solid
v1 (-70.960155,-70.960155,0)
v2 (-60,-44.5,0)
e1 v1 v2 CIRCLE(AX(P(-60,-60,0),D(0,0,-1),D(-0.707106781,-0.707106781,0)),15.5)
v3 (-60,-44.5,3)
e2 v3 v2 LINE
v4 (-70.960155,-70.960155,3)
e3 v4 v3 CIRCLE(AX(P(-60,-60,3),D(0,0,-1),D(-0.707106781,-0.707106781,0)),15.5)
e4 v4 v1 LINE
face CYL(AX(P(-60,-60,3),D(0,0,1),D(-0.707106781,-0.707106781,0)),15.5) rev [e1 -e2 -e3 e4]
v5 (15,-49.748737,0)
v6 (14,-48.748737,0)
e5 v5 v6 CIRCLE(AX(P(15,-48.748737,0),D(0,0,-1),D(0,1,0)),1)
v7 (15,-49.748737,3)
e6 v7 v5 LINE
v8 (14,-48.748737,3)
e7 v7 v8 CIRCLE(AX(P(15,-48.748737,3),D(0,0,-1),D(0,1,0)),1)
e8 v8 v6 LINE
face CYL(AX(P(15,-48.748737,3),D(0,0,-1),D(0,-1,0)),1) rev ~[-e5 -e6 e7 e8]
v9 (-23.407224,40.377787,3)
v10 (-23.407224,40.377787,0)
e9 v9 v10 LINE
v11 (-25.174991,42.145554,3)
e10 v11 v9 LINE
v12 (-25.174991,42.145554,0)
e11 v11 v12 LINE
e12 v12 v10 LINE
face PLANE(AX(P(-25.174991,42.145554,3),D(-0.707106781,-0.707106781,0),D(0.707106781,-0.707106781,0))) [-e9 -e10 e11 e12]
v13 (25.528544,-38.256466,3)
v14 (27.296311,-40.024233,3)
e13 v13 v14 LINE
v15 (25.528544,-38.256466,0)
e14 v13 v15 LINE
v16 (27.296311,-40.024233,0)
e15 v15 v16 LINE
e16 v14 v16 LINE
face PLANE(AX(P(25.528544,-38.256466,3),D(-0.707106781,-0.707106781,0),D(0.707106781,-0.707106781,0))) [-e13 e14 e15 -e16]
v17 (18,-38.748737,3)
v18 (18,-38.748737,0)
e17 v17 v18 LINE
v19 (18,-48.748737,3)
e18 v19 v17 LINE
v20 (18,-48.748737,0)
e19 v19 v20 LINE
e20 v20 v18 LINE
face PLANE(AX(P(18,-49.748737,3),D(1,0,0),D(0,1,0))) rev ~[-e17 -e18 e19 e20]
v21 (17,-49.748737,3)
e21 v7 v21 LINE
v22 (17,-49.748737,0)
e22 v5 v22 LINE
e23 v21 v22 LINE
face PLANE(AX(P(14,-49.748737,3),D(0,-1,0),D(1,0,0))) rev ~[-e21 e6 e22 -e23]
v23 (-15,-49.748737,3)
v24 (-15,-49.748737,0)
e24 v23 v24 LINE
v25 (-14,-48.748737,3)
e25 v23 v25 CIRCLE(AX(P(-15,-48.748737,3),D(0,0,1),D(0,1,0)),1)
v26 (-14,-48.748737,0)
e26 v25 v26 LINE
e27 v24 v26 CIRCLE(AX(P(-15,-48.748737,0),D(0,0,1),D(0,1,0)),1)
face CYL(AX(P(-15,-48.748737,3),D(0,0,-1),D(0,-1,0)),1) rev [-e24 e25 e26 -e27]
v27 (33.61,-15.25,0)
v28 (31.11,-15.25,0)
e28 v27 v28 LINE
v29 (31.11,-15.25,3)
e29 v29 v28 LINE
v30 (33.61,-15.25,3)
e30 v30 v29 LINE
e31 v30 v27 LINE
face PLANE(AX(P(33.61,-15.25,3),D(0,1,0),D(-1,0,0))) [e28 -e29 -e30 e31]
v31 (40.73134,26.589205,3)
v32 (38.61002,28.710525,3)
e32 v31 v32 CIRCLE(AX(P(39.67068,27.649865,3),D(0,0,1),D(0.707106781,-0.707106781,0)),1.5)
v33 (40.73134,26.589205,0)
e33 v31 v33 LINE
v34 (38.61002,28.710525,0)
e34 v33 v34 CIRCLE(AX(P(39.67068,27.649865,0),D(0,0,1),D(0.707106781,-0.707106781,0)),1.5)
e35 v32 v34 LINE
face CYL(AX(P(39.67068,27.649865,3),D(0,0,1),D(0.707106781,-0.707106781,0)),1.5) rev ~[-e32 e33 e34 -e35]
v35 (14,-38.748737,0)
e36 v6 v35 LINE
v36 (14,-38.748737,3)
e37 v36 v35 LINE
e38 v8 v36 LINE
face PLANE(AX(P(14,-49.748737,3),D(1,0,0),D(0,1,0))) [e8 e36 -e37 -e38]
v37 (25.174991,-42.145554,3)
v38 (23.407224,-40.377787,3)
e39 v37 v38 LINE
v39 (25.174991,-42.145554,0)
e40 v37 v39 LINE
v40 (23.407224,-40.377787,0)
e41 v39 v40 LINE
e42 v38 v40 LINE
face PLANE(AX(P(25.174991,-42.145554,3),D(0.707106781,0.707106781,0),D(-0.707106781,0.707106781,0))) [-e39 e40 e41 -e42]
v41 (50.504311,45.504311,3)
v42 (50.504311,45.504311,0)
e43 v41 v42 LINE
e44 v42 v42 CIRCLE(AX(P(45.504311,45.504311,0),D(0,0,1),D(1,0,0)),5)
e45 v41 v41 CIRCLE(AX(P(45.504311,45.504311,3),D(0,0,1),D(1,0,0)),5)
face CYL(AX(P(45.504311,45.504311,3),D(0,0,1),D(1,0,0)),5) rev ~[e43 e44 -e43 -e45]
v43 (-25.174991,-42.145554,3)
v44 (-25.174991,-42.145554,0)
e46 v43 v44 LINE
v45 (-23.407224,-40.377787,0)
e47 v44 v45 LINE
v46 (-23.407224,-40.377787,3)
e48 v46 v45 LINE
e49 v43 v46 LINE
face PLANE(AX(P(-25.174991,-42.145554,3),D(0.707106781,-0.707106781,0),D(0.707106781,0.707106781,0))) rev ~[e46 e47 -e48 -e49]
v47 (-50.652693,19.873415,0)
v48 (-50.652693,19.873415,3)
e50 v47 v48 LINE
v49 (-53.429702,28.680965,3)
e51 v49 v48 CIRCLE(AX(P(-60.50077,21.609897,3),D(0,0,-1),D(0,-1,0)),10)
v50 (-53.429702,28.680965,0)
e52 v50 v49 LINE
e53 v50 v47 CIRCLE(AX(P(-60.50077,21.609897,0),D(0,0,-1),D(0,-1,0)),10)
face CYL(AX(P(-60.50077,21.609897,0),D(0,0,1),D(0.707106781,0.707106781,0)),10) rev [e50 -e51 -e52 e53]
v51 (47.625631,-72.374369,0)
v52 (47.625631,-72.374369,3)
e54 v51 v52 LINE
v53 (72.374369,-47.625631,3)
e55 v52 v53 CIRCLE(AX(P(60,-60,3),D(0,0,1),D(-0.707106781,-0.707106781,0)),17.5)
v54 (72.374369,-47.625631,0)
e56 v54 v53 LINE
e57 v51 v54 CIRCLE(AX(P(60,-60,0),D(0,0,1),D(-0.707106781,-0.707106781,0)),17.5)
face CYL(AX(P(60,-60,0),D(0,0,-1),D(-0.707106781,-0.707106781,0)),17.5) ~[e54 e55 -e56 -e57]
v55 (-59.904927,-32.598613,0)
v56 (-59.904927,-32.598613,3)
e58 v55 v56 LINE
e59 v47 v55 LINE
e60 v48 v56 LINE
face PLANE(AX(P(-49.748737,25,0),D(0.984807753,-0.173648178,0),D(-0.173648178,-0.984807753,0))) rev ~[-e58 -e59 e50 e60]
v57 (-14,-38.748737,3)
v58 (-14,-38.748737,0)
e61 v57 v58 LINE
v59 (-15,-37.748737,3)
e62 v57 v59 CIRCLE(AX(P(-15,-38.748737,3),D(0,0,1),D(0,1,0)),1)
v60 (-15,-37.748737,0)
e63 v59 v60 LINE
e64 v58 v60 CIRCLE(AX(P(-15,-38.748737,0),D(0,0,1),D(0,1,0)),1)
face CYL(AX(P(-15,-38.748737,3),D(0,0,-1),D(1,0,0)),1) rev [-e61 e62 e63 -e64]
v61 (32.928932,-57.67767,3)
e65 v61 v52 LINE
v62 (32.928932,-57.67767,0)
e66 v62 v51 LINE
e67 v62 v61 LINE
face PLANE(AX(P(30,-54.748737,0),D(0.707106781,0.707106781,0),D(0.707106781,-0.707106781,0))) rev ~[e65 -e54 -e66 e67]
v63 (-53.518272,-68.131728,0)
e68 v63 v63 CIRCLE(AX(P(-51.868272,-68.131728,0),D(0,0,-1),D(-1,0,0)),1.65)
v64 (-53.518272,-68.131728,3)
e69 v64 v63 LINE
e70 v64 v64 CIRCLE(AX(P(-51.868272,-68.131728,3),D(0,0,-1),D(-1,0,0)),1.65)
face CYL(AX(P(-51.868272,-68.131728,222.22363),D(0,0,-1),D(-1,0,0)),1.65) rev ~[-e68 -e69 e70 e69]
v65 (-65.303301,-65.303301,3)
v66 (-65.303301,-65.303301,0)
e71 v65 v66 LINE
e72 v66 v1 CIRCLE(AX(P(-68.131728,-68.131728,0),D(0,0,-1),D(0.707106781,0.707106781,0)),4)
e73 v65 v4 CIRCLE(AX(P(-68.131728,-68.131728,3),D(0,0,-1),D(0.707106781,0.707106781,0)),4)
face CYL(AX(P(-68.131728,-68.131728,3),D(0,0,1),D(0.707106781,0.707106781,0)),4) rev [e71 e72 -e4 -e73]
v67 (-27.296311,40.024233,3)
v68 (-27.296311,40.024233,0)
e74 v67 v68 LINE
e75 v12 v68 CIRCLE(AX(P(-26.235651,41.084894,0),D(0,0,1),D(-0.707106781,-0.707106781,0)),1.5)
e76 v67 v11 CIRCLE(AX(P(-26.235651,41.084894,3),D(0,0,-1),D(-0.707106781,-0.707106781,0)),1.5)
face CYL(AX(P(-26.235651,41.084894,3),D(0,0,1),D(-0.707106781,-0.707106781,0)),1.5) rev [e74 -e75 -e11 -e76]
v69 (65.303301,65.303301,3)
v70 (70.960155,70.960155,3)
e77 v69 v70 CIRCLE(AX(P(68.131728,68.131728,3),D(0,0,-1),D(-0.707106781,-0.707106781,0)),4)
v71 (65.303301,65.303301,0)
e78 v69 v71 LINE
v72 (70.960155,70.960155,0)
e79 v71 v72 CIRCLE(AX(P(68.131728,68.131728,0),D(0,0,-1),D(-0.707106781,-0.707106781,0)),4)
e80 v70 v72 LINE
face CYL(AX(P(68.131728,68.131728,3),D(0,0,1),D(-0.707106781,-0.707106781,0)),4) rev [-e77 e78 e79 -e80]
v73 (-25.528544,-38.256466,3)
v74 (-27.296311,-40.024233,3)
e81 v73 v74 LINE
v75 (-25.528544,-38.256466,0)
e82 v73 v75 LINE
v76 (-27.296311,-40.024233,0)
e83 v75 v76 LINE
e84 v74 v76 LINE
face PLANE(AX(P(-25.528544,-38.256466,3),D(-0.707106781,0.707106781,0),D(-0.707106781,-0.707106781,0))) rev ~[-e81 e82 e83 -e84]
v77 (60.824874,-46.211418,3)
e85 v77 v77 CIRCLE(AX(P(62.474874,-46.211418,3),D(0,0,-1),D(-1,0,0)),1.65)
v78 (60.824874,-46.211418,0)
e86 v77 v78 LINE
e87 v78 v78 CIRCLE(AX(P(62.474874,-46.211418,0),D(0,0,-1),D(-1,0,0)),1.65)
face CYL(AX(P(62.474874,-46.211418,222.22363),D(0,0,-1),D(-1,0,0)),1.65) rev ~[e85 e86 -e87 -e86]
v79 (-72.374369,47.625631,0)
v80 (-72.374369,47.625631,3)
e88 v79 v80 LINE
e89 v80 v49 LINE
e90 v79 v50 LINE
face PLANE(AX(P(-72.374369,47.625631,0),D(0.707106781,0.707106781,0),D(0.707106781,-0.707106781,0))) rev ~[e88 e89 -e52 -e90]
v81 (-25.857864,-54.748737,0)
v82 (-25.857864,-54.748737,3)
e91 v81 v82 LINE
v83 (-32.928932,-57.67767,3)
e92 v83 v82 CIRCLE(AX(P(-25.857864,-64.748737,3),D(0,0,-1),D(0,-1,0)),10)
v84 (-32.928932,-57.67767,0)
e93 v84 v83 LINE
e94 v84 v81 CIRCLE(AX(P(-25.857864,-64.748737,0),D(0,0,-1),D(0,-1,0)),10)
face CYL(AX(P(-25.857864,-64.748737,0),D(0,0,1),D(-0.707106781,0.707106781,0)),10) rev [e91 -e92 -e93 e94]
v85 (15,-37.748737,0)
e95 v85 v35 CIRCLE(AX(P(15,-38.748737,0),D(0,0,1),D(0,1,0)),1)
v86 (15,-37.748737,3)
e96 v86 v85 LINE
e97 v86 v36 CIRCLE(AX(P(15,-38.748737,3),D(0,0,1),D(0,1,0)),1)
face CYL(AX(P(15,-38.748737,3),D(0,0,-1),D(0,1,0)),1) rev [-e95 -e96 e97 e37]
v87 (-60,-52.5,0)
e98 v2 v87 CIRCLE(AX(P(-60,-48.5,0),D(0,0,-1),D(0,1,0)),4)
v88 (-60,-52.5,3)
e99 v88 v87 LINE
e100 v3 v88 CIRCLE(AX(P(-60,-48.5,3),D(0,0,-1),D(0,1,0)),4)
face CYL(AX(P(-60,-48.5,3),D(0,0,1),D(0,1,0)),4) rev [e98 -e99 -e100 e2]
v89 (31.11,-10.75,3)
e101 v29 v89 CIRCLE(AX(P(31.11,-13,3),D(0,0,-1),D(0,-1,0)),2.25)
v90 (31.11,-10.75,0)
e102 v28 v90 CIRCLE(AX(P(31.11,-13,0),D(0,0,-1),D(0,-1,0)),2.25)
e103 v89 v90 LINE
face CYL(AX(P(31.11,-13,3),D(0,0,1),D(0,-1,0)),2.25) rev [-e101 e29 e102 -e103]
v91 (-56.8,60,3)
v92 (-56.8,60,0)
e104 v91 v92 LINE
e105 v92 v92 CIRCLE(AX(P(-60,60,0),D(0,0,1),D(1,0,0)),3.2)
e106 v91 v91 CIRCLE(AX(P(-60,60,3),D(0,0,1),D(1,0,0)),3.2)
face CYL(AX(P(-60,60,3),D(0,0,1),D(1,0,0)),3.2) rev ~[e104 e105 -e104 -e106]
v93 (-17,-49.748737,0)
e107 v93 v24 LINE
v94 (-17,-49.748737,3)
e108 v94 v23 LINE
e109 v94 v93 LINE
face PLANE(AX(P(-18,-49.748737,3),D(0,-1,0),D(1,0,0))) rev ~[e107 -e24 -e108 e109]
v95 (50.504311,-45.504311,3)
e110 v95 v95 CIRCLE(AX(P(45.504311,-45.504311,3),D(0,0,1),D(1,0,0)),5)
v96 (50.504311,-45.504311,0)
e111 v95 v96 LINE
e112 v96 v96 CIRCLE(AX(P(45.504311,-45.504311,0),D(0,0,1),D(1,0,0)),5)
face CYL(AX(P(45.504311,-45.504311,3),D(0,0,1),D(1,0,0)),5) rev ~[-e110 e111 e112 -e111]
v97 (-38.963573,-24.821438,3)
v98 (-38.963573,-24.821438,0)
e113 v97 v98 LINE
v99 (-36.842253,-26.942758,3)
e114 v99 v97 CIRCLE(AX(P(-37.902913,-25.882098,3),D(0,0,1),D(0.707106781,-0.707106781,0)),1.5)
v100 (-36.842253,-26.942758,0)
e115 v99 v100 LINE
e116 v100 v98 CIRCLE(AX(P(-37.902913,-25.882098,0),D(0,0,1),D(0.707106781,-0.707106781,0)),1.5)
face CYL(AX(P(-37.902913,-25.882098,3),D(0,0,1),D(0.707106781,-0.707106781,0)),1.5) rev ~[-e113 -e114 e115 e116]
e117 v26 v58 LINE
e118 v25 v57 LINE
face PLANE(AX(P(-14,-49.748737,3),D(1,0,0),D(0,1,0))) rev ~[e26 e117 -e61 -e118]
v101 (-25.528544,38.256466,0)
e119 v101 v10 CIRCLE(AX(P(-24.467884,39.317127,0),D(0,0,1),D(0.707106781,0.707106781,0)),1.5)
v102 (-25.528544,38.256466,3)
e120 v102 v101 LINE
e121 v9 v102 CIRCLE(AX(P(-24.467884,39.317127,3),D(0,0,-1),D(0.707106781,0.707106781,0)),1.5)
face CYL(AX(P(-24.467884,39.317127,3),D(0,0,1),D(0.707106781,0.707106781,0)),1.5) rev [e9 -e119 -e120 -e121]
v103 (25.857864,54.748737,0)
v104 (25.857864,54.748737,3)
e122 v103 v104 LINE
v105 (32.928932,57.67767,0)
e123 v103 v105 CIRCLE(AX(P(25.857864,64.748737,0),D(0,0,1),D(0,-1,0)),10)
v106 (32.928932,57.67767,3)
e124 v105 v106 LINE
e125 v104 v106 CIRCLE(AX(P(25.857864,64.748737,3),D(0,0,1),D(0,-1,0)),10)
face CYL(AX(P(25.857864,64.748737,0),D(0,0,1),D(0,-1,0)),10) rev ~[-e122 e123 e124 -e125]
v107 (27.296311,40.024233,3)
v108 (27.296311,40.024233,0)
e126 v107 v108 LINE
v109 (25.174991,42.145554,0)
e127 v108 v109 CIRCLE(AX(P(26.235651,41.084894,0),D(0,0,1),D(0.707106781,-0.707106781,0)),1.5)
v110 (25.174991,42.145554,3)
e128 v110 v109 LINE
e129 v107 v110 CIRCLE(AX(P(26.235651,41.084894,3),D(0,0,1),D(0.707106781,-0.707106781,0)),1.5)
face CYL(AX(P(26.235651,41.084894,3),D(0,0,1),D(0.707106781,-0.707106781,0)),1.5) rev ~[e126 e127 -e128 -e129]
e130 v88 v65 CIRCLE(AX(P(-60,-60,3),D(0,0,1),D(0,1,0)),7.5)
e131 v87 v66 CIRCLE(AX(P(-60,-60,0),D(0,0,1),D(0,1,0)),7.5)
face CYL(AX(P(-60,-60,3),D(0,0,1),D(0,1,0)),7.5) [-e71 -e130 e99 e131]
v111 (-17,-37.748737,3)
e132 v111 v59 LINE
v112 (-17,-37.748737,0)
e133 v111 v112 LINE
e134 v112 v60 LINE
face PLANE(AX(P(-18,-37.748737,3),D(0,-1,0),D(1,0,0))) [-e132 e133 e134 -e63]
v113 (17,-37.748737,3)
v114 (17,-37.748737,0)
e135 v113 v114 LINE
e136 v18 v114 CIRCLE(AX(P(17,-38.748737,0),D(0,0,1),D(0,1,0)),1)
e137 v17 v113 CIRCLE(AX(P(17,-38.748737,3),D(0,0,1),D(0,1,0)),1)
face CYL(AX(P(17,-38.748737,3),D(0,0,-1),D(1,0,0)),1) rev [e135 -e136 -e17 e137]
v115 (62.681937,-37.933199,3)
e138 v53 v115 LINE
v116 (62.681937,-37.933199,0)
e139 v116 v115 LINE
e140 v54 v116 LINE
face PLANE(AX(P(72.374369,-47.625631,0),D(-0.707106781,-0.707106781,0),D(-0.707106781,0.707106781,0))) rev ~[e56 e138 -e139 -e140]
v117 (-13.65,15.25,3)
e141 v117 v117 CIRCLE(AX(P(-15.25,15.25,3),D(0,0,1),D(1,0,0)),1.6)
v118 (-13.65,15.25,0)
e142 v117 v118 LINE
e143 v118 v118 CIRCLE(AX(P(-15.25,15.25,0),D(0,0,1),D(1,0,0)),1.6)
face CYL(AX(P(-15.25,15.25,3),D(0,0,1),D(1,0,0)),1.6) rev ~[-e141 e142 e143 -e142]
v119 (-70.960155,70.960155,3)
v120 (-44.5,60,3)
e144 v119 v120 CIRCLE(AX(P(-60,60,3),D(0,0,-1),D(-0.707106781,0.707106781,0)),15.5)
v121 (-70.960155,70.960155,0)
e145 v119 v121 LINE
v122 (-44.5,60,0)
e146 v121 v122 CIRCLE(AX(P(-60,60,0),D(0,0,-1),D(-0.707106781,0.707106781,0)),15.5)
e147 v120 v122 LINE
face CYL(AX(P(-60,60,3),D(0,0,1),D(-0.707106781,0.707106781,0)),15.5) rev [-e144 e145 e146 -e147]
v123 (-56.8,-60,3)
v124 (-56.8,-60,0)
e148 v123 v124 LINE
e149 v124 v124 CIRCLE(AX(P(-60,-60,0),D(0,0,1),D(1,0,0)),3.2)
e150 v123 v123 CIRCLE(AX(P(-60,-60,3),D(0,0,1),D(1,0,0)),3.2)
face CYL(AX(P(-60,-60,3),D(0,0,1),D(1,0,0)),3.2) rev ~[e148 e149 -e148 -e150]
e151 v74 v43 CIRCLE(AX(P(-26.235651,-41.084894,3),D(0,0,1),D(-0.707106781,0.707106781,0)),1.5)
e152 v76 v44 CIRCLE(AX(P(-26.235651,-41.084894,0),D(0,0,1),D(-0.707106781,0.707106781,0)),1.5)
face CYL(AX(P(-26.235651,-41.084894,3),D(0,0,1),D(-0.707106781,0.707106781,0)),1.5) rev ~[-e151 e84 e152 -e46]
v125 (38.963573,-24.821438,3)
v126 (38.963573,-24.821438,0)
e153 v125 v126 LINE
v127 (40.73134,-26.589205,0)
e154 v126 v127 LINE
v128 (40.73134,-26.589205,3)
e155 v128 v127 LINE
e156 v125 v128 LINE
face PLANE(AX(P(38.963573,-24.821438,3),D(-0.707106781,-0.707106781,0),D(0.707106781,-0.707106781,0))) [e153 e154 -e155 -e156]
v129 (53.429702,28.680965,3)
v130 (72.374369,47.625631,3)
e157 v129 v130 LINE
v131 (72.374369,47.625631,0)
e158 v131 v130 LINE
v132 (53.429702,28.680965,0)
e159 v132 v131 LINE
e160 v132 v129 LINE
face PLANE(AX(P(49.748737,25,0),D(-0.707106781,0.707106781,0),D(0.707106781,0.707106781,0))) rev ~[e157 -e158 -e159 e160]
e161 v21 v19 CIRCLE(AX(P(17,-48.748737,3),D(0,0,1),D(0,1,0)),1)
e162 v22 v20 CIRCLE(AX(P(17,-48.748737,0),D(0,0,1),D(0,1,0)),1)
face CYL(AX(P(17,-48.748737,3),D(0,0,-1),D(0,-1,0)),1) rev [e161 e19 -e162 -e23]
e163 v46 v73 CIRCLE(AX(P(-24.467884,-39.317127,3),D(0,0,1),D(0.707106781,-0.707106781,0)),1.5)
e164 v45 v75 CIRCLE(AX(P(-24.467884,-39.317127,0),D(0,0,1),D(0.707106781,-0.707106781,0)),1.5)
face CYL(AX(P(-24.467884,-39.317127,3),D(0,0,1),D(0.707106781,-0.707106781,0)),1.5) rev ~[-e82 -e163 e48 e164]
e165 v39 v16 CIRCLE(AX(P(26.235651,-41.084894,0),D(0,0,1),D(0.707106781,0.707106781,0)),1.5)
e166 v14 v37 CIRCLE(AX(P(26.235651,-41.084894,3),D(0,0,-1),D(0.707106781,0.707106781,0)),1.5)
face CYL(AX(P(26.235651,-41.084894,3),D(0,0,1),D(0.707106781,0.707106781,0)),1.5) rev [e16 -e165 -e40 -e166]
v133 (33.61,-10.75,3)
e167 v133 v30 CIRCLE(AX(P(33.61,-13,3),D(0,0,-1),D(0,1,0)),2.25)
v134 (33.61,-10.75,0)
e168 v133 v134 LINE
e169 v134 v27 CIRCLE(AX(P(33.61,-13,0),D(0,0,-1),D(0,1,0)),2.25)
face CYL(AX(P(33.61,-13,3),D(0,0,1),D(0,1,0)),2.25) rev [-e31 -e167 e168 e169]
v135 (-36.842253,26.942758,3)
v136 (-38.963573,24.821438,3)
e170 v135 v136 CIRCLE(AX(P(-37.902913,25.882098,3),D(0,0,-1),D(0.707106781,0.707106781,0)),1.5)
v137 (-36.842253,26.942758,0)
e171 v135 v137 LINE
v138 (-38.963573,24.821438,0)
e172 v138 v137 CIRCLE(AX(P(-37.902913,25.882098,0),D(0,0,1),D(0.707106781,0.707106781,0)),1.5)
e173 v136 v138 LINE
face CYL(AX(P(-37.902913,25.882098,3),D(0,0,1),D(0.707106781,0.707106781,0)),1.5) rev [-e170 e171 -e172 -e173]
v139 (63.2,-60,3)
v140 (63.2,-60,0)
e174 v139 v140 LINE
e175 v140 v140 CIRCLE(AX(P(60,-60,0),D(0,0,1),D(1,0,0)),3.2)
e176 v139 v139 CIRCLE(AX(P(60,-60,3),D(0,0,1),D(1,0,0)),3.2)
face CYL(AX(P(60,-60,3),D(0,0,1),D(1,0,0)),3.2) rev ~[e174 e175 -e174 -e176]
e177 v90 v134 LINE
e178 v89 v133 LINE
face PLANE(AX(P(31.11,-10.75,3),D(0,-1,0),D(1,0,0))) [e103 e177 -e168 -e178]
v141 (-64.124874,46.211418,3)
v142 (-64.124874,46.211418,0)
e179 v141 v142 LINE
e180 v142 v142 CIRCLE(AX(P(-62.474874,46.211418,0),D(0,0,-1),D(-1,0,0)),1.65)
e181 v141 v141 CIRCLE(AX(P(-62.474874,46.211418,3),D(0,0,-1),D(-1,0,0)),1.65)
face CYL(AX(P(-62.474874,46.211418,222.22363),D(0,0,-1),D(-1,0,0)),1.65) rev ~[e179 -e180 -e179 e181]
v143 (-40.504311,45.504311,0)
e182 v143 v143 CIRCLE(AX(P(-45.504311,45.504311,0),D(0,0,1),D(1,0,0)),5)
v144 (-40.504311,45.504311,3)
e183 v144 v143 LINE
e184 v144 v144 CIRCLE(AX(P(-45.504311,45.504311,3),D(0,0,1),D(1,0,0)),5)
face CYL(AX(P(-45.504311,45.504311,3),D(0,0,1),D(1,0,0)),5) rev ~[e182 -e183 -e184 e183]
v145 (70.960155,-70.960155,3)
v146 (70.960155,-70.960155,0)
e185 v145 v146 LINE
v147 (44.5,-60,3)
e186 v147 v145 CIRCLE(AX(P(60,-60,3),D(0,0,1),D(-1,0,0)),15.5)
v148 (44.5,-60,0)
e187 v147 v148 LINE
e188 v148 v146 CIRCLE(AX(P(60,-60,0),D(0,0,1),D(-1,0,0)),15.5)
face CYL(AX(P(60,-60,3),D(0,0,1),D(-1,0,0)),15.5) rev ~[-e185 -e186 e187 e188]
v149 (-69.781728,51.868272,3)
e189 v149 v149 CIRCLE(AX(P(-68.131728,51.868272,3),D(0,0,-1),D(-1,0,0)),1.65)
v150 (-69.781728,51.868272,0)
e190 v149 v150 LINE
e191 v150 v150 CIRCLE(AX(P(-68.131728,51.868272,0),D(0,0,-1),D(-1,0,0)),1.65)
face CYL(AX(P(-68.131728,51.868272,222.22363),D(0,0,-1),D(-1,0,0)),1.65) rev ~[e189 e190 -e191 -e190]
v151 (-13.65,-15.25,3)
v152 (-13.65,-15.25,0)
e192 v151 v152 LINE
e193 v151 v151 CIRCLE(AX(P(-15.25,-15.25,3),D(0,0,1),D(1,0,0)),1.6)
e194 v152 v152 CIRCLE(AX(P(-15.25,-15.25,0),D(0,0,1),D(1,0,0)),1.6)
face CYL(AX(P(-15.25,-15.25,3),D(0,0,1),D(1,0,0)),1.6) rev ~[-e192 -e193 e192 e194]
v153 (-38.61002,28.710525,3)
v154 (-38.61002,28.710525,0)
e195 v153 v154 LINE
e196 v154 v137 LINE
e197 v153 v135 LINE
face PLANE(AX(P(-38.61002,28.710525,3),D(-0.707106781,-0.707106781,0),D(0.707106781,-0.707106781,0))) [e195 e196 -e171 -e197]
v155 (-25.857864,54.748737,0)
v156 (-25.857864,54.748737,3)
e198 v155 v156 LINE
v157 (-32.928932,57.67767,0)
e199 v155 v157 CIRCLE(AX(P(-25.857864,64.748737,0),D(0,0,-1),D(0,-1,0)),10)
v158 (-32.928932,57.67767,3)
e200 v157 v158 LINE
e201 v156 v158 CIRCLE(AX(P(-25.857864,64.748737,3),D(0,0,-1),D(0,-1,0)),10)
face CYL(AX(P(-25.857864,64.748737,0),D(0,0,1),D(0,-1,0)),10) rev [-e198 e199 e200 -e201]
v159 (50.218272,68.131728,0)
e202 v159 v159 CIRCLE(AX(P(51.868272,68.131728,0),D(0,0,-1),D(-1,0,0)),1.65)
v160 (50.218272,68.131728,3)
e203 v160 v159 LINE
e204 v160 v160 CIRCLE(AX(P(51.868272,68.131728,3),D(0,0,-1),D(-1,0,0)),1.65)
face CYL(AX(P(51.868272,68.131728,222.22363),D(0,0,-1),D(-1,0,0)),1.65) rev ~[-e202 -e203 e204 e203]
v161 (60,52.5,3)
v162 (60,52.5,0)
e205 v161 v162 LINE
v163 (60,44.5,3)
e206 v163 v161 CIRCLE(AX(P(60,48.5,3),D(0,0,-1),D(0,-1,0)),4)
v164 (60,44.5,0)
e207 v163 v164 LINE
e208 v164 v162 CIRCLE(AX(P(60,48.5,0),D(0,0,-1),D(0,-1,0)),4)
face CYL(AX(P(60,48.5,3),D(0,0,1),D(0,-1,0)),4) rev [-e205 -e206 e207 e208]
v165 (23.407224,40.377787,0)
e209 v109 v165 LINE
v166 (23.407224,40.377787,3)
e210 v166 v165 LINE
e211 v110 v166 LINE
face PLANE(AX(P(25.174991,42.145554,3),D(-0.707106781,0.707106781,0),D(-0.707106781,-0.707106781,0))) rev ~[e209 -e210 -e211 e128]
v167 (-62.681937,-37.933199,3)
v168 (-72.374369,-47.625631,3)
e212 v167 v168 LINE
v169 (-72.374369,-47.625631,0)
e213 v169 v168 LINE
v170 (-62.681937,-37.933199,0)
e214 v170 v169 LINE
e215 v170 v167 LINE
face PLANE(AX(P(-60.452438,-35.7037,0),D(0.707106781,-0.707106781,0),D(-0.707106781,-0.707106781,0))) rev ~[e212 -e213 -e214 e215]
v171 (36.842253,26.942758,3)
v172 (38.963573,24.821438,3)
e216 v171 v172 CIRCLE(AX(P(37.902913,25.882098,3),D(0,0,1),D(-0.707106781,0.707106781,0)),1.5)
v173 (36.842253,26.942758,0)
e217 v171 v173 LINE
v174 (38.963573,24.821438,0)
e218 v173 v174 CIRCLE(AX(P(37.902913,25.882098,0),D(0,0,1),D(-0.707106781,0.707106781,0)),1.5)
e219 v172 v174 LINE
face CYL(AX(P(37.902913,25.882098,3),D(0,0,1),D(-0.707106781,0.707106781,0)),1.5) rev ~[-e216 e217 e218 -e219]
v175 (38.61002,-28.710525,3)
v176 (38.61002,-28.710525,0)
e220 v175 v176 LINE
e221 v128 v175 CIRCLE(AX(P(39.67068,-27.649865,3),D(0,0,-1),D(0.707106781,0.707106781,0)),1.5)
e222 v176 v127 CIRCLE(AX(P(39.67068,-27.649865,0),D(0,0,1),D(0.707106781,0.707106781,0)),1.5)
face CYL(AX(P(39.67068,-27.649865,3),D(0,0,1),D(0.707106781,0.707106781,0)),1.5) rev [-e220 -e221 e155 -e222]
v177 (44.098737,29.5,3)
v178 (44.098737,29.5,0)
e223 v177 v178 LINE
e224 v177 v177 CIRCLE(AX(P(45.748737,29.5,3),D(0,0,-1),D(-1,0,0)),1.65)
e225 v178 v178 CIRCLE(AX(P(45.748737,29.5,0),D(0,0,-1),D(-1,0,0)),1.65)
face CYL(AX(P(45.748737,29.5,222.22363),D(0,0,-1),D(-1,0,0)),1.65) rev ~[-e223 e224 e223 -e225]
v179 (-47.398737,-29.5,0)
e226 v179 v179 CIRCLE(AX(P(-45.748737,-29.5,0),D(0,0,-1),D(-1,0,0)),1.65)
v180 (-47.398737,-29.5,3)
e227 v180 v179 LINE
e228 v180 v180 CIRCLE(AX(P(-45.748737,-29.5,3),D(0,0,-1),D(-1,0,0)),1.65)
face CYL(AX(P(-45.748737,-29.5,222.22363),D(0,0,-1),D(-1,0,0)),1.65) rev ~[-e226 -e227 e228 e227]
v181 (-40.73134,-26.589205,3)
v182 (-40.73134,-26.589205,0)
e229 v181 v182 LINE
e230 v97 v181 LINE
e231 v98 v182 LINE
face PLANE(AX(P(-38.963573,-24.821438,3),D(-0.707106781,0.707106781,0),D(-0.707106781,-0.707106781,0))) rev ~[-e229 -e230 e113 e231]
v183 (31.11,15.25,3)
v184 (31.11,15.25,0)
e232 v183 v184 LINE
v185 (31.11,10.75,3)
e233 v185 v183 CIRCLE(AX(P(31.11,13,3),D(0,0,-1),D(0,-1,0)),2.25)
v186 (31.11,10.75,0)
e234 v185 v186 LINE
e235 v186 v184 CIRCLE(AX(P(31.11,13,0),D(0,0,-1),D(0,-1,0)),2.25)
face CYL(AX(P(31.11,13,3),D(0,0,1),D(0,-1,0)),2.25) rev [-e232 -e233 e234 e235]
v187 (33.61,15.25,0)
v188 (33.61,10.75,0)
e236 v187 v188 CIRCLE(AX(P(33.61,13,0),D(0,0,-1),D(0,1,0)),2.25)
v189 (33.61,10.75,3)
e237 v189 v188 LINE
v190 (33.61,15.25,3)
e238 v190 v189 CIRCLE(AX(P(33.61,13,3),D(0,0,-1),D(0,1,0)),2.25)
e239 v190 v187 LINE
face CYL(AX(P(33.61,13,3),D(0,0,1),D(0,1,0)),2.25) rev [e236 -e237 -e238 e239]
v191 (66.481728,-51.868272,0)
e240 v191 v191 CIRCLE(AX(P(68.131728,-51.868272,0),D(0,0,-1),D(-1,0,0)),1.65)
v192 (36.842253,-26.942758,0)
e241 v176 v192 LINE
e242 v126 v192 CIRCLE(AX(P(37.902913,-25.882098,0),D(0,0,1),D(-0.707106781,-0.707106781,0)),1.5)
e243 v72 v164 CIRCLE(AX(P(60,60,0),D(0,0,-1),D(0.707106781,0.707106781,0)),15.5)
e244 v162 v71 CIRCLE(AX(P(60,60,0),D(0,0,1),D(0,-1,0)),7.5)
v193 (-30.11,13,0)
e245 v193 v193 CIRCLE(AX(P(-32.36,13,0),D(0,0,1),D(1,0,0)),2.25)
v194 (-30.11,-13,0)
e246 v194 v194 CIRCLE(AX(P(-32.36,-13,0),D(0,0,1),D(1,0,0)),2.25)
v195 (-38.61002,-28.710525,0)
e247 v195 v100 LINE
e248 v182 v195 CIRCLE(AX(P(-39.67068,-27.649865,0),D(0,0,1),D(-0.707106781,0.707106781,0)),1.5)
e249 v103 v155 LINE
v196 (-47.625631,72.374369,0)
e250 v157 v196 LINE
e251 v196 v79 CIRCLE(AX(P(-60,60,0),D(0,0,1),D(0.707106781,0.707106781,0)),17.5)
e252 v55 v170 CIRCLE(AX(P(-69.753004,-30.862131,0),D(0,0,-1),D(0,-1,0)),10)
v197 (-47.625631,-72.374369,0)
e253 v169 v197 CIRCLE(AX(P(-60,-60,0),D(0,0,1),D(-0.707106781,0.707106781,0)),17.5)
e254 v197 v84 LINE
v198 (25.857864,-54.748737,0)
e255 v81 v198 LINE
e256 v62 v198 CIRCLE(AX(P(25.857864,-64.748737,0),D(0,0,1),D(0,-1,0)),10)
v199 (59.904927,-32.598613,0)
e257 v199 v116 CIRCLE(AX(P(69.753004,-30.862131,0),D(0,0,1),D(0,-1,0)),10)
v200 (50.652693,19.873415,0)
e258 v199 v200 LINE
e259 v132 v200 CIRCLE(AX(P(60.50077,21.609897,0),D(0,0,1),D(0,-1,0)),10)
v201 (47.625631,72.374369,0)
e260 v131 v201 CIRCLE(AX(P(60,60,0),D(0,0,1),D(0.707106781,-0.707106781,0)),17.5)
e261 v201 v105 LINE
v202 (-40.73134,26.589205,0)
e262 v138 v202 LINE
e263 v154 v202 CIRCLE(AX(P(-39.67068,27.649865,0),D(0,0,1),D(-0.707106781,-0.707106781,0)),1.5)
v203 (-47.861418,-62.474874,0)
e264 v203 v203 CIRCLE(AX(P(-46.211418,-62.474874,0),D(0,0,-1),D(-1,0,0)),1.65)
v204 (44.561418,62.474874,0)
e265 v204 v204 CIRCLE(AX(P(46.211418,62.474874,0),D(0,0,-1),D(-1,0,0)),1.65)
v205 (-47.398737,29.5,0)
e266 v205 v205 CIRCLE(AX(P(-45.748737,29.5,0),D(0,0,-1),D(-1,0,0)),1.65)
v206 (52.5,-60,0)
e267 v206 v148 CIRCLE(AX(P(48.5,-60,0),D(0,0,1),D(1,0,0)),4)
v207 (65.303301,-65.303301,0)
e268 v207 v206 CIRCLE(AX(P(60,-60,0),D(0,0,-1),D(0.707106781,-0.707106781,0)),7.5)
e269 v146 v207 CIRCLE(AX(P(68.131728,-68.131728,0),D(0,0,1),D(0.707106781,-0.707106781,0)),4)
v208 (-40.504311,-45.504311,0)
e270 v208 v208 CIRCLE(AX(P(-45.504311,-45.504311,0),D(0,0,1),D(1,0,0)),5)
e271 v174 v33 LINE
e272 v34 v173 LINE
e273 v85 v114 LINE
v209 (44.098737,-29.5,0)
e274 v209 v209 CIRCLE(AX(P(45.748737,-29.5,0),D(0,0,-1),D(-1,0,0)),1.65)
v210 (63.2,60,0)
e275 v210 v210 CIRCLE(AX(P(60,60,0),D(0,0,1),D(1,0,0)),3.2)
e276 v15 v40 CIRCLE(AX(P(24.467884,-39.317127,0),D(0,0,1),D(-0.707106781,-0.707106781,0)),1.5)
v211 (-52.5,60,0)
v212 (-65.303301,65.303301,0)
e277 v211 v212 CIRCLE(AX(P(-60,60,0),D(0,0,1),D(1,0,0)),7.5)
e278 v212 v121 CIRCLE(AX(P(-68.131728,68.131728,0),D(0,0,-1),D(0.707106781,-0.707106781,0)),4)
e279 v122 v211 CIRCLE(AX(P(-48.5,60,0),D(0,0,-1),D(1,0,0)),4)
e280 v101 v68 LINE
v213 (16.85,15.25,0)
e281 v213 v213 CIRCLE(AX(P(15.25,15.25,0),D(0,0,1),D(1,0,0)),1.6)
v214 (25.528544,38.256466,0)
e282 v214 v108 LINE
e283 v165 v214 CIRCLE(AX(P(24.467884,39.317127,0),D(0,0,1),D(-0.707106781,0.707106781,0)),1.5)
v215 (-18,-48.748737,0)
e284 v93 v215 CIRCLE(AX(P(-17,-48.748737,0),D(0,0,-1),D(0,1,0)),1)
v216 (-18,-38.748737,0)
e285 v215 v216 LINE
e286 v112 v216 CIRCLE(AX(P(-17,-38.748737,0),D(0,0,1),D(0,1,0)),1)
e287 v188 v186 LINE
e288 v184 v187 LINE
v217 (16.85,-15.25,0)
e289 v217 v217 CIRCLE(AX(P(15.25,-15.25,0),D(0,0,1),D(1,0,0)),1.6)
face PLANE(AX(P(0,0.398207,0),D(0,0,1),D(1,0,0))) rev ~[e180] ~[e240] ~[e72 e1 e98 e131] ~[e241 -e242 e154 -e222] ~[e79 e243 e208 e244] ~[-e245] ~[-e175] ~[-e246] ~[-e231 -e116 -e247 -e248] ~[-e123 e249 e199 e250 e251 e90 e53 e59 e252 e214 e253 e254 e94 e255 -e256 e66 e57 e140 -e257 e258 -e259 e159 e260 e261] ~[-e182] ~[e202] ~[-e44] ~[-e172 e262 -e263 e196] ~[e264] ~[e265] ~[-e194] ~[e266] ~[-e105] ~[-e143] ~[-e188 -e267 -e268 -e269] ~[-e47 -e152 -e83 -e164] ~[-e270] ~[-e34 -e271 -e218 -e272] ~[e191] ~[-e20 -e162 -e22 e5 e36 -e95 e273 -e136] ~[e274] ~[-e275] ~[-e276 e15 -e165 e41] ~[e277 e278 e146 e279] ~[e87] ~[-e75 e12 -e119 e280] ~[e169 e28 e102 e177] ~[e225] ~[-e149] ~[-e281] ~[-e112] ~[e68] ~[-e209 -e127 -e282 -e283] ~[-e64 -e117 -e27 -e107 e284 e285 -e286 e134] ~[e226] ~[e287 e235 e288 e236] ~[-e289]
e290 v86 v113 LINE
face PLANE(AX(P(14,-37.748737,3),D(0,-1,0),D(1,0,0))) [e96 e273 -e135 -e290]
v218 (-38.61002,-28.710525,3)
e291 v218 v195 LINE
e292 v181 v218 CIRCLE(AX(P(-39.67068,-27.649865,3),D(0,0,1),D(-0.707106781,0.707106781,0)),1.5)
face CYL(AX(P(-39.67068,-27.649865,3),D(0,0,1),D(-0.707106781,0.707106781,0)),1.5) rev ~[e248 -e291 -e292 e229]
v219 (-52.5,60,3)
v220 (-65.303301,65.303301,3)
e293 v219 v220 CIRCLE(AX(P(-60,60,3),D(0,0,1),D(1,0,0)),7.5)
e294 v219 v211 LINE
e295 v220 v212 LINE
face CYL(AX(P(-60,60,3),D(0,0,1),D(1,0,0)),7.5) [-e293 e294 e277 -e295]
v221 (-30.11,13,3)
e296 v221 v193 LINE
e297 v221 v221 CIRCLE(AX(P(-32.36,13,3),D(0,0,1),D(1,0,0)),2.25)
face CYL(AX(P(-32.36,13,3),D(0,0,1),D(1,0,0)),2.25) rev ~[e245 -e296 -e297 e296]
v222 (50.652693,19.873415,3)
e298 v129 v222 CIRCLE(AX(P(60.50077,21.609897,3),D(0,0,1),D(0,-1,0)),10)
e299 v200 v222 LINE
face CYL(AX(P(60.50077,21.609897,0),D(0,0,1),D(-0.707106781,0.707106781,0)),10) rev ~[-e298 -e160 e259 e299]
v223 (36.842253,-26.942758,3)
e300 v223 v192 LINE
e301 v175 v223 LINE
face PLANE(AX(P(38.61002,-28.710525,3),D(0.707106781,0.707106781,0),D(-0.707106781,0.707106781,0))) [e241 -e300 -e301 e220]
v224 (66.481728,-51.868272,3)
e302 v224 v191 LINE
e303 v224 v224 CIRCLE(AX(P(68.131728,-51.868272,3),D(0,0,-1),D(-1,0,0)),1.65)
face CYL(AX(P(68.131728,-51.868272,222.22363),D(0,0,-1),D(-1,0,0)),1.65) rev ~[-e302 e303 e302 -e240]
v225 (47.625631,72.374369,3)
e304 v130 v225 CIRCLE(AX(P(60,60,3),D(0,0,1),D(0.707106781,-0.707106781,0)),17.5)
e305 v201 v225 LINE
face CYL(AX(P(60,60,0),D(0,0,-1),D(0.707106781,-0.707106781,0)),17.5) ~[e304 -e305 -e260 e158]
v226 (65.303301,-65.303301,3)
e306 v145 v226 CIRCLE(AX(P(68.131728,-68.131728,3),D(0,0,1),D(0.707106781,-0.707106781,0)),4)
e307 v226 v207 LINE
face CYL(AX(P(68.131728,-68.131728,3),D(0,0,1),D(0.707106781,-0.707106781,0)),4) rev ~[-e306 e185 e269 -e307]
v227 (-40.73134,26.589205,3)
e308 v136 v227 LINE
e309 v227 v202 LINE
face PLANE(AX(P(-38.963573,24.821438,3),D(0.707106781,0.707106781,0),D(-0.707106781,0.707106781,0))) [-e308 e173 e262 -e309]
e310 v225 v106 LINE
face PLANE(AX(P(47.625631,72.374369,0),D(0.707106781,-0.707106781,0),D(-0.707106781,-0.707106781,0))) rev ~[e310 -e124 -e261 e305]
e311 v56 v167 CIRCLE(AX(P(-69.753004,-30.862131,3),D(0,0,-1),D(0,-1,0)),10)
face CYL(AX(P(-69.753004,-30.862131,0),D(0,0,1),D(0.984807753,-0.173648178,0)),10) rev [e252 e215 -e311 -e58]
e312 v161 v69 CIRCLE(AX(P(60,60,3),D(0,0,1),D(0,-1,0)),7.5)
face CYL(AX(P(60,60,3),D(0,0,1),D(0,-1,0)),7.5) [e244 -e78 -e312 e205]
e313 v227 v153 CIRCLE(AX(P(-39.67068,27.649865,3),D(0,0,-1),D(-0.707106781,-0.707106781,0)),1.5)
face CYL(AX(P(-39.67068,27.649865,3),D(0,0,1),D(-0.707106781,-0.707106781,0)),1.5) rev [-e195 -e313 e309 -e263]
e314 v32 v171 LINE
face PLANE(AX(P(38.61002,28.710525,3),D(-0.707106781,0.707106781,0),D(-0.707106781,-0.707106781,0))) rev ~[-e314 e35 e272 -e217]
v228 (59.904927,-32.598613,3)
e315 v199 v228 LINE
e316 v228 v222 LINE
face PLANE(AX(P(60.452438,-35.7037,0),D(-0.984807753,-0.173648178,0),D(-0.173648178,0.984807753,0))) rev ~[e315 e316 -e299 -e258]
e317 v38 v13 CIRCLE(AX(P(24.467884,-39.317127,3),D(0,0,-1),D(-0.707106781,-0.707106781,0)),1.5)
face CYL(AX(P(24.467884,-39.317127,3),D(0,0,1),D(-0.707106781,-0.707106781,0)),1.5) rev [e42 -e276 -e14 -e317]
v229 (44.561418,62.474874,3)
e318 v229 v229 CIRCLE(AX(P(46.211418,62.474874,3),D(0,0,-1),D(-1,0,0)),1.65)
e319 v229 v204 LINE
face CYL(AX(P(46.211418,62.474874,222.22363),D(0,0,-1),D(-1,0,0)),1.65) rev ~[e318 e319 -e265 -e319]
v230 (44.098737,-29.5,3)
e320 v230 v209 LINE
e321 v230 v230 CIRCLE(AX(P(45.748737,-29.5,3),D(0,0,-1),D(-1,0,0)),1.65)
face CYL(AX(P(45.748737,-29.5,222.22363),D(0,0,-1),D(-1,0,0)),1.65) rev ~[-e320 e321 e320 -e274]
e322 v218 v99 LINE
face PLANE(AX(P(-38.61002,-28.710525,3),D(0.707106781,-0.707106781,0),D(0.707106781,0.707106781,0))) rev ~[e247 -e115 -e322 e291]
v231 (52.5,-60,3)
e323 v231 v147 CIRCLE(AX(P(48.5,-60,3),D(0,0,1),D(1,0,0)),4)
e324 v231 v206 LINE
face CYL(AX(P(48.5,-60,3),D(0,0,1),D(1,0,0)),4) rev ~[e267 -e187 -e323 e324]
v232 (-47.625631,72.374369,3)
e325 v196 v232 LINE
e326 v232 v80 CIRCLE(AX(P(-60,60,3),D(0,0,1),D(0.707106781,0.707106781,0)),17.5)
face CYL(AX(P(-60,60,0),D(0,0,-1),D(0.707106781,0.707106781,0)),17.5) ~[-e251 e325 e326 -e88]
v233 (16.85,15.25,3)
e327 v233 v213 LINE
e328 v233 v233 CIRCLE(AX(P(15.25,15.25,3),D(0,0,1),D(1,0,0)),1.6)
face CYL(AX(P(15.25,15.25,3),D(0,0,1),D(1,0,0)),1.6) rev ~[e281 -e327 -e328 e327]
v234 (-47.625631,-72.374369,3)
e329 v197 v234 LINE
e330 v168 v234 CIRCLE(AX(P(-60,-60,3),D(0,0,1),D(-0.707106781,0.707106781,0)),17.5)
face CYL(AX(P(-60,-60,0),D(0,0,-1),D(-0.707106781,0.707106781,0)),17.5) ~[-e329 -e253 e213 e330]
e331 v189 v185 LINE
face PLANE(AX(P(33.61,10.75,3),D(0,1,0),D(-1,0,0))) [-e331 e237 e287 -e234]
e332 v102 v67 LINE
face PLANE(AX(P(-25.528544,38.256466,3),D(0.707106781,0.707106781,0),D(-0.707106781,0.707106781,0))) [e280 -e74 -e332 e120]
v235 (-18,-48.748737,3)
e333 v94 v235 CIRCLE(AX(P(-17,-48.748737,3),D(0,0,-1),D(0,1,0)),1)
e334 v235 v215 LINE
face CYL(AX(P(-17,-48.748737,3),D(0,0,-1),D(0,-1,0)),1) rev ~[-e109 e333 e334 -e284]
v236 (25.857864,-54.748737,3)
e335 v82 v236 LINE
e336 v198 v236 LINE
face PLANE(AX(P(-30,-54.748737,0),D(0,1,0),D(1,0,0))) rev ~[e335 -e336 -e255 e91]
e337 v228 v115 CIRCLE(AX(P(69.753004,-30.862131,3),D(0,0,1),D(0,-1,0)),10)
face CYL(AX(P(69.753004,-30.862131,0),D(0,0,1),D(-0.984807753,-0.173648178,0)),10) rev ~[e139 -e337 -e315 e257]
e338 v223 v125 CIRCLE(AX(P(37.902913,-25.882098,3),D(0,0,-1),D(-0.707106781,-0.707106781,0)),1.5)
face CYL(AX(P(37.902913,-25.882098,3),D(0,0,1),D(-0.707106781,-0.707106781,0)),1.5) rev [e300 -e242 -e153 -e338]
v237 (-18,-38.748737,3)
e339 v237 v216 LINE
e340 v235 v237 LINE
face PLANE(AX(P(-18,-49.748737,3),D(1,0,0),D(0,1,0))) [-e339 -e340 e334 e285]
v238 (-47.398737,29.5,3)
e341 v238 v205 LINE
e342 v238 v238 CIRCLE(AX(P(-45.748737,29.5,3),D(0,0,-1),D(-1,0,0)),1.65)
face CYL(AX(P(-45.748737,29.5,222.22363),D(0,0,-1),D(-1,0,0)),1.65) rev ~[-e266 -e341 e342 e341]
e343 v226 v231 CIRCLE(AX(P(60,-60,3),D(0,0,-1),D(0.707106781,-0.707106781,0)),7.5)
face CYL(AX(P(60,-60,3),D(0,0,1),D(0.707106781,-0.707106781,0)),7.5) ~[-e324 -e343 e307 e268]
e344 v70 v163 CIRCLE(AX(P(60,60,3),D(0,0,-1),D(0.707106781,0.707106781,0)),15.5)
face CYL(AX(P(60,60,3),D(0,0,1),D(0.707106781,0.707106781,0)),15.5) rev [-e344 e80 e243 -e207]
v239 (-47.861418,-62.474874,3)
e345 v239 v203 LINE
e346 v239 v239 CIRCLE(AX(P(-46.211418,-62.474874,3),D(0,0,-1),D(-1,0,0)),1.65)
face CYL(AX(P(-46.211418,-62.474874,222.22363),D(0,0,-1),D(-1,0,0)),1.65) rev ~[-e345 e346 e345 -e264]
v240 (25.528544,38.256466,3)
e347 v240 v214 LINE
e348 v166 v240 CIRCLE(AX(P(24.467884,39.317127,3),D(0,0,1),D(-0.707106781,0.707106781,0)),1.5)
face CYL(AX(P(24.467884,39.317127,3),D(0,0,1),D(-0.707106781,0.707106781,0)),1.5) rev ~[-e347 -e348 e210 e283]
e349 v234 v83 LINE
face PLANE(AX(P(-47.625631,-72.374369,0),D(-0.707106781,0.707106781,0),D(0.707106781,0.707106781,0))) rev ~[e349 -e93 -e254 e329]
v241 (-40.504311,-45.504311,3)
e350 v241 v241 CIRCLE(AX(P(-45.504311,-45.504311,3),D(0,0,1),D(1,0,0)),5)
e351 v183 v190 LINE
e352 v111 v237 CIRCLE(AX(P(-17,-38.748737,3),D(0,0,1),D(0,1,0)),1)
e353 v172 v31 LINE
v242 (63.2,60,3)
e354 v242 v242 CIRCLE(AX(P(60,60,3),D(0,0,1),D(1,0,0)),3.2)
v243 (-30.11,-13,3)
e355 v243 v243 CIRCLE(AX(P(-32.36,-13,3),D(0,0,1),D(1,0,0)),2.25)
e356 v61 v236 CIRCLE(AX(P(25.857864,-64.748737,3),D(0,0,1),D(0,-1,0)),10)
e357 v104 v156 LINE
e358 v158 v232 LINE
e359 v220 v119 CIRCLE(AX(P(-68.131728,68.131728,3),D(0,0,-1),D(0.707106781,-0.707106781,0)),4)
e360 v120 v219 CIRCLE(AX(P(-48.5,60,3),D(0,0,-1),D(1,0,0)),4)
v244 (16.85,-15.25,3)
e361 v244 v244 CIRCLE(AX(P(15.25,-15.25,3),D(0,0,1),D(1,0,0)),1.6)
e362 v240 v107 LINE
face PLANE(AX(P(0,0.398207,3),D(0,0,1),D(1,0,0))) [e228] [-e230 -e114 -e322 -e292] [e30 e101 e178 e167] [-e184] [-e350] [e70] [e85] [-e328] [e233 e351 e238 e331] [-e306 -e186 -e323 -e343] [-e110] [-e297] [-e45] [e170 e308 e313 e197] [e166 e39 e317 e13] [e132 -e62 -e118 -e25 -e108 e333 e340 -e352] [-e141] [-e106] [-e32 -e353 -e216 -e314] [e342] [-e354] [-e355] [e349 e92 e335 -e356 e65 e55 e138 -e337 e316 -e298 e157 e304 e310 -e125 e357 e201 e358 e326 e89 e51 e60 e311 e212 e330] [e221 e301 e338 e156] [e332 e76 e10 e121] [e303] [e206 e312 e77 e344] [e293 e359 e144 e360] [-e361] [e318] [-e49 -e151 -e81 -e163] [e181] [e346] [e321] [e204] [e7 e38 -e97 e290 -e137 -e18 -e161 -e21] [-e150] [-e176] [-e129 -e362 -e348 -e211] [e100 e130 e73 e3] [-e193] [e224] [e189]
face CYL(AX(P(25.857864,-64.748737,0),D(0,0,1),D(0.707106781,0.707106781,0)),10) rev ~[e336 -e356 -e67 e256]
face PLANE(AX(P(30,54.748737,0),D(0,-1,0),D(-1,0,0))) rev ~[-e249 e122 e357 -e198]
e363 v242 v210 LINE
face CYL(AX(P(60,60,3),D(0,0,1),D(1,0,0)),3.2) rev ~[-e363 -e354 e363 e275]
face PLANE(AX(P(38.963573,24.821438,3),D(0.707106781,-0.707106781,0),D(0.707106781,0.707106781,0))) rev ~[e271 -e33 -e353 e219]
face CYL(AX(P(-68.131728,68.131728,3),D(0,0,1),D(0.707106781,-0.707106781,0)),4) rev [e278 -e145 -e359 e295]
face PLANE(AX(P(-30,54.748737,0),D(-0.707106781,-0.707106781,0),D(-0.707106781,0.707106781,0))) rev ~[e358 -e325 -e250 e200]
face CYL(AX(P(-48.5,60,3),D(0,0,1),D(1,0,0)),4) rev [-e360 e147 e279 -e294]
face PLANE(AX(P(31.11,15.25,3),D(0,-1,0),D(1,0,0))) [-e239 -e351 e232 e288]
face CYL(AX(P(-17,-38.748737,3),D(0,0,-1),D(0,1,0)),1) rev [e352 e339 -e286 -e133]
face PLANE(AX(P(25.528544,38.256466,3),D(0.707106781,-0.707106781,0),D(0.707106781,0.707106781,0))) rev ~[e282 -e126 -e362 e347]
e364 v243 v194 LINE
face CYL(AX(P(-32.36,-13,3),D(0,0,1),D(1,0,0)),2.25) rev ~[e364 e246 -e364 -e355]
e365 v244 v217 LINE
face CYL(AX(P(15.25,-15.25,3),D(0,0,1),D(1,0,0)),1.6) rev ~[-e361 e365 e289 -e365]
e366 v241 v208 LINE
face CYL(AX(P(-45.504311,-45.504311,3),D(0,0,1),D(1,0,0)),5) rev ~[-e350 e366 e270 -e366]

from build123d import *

# Parameters (mm, degrees)
AUFSATZ_LINEAR_AUSTRAGEN1_DEPTH = 3
SKIZZE2_R                       = 5
SKIZZE2_R_2                     = 3.2
SCHNITT_LINEAR_AUSTRAGEN1_DEPTH = 3
SKIZZE3_R                       = 3.2
SCHNITT_LINEAR_AUSTRAGEN2_DEPTH = 3
SKIZZE5_R                       = 1.6
SKIZZE5_R_2                     = 2.25
SCHNITT_LINEAR_AUSTRAGEN3_DEPTH = 3
SKIZZE7_R                       = 0.5
SCHNITT_LINEAR_AUSTRAGEN4_DEPTH = 110.64260121
VERRUNDUNG1_R                   = 10
ECSS_BEFESTIGUNG_DEPTH          = 110.64260121
SKIZZE9_R                       = 0.5
SCHNITT_LINEAR_AUSTRAGEN6_DEPTH = 110.64260121
KREISMUSTER1_COUNT              = 4
SKIZZE10_W                      = 4
SKIZZE10_H                      = 12
BEFESTIGUNG_SPANNTESTER_DEPTH   = 110.64260121
VERRUNDUNG2_R                   = 1
M4_GEWINDEBOHRUNG1_D            = 3.3
SKIZZE16_R                      = 0.5
SCHNITT_LINEAR_AUSTRAGEN8_DEPTH = 110.64260121
M4_GEWINDEBOHRUNG2_D            = 3.3


with BuildPart() as part:
    # Skizze1 → Aufsatz-Linear austragen1 (new body)
    with BuildSketch(Plane.XY):
        with BuildLine():
            Line((30, 54.748737342), (-30, 54.748737342))
            Line((-30, 54.748737342), (-47.625631329, 72.374368671))
            ThreePointArc((-47.625631329, 72.374368671), (-72.374368671, 72.374368671), (-72.374368671, 47.625631329))
            Line((-72.374368671, 47.625631329), (-49.748737342, 25))
            Line((-49.748737342, 25), (-60.45243751, -35.703700169))
            Line((-60.45243751, -35.703700169), (-72.374368671, -47.625631329))
            ThreePointArc((-72.374368671, -47.625631329), (-72.374368671, -72.374368671), (-47.625631329, -72.374368671))
            Line((-47.625631329, -72.374368671), (-30, -54.748737342))
            Line((-30, -54.748737342), (30, -54.748737342))
            Line((30, -54.748737342), (47.625631329, -72.374368671))
            ThreePointArc((47.625631329, -72.374368671), (72.374368671, -72.374368671), (72.374368671, -47.625631329))
            Line((72.374368671, -47.625631329), (60.45243751, -35.703700169))
            Line((60.45243751, -35.703700169), (49.748737342, 25))
            Line((49.748737342, 25), (72.374368671, 47.625631329))
            ThreePointArc((72.374368671, 47.625631329), (72.374368671, 72.374368671), (47.625631329, 72.374368671))
            Line((47.625631329, 72.374368671), (30, 54.748737342))
        make_face()
    extrude(amount=AUFSATZ_LINEAR_AUSTRAGEN1_DEPTH)

    # Skizze2 → Schnitt-Linear austragen1 (cut)
    with BuildSketch(Plane.XY.offset(3)):
        with Locations((-45.504310986, 45.504310986)):
            Circle(SKIZZE2_R)
        with Locations((-60, 60)):
            Circle(SKIZZE2_R_2)
        with Locations((45.504310986, 45.504310986)):
            Circle(SKIZZE2_R)
        with Locations((45.504310986, -45.504310986)):
            Circle(SKIZZE2_R)
        with Locations((-45.504310986, -45.504310986)):
            Circle(SKIZZE2_R)
        with Locations((-60, -60)):
            Circle(SKIZZE2_R_2)
        with Locations((60, 60)):
            Circle(SKIZZE2_R_2)
        with Locations((60, -60)):
            Circle(SKIZZE2_R_2)
    extrude(amount=-SCHNITT_LINEAR_AUSTRAGEN1_DEPTH, mode=Mode.SUBTRACT)

    # Skizze3 → Schnitt-Linear austragen2 (cut)
    with BuildSketch(Plane.XY.offset(3)):
        with Locations((-60, 60)):
            Circle(SKIZZE3_R)
        with BuildLine():
            ThreePointArc((65.303300859, 65.303300859), (65.303300859, 70.960155108), (70.960155108, 70.960155108))
            ThreePointArc((70.960155108, 70.960155108), (74.320132754, 54.068406798), (60, 44.5))
            ThreePointArc((60, 44.5), (56, 48.5), (60, 52.5))
            ThreePointArc((60, 52.5), (66.929096494, 57.129874257), (65.303300859, 65.303300859))
        make_face()
        with BuildLine():
            ThreePointArc((-70.960155108, 70.960155108), (-54.068406798, 74.320132754), (-44.5, 60))
            ThreePointArc((-44.5, 60), (-48.5, 56), (-52.5, 60))
            ThreePointArc((-52.5, 60), (-57.129874257, 66.929096494), (-65.303300859, 65.303300859))
            ThreePointArc((-65.303300859, 65.303300859), (-70.960155108, 65.303300859), (-70.960155108, 70.960155108))
        make_face()
        with BuildLine():
            ThreePointArc((65.303300859, -65.303300859), (57.129874257, -66.929096494), (52.5, -60))
            ThreePointArc((52.5, -60), (48.5, -56), (44.5, -60))
            ThreePointArc((44.5, -60), (54.068406798, -74.320132754), (70.960155108, -70.960155108))
            ThreePointArc((70.960155108, -70.960155108), (70.960155108, -65.303300859), (65.303300859, -65.303300859))
        make_face()
        with BuildLine():
            ThreePointArc((-70.960155108, -70.960155108), (-74.320132754, -54.068406798), (-60, -44.5))
            ThreePointArc((-60, -44.5), (-56, -48.5), (-60, -52.5))
            ThreePointArc((-60, -52.5), (-66.929096494, -57.129874257), (-65.303300859, -65.303300859))
            ThreePointArc((-65.303300859, -65.303300859), (-65.303300859, -70.960155108), (-70.960155108, -70.960155108))
        make_face()
    extrude(amount=-SCHNITT_LINEAR_AUSTRAGEN2_DEPTH, mode=Mode.SUBTRACT)

    # Skizze5 → Schnitt-Linear austragen3 (cut)
    with BuildSketch(Plane.XY.offset(3)):
        with Locations((-15.25, 15.25)):
            Circle(SKIZZE5_R)
        with Locations((15.25, 15.25)):
            Circle(SKIZZE5_R)
        with Locations((15.25, -15.25)):
            Circle(SKIZZE5_R)
        with Locations((-15.25, -15.25)):
            Circle(SKIZZE5_R)
        with Locations((-32.36, 13)):
            Circle(SKIZZE5_R_2)
        with Locations((-32.36, -13)):
            Circle(SKIZZE5_R_2)
        with BuildLine():
            Line((31.11, 15.25), (33.61, 15.25))
            ThreePointArc((33.61, 15.25), (35.86, 13), (33.61, 10.75))
            Line((33.61, 10.75), (31.11, 10.75))
            ThreePointArc((31.11, 10.75), (28.86, 13), (31.11, 15.25))
        make_face()
        with BuildLine():
            Line((31.11, -10.75), (33.61, -10.75))
            ThreePointArc((33.61, -10.75), (35.86, -13), (33.61, -15.25))
            Line((33.61, -15.25), (31.11, -15.25))
            ThreePointArc((31.11, -15.25), (28.86, -13), (31.11, -10.75))
        make_face()
    extrude(amount=-SCHNITT_LINEAR_AUSTRAGEN3_DEPTH, mode=Mode.SUBTRACT)

    # Skizze7 → Schnitt-Linear austragen4 (cut, through all)
    with BuildSketch(Plane.XY.offset(3)):
        with Locations((-45.748737342, 29.5)):
            Circle(SKIZZE7_R)
        with Locations((-45.748737342, -29.5)):
            Circle(SKIZZE7_R)
        with Locations((45.748737342, -29.5)):
            Circle(SKIZZE7_R)
        with Locations((45.748737342, 29.5)):
            Circle(SKIZZE7_R)
    extrude(amount=-SCHNITT_LINEAR_AUSTRAGEN4_DEPTH, mode=Mode.SUBTRACT)

    # Verrundung1
    verrundung1_edges = [part.edges().sort_by_distance(p)[0] for p in [
        (-30, 54.748737342, 1.5),
        (30, 54.748737342, 1.5),
        (49.748737342, 25, 1.5),
        (60.45243751, -35.703700169, 1.5),
        (30, -54.748737342, 1.5),
        (-30, -54.748737342, 1.5),
        (-60.45243751, -35.703700169, 1.5),
        (-49.748737342, 25, 1.5),
    ]]
    fillet(verrundung1_edges, radius=VERRUNDUNG1_R)

    # Skizze8 → ECSs Befestigung (cut, through all)
    with BuildSketch(Plane.XY.offset(3)):
        with BuildLine():
            Line((25.528544417, -38.256466479), (27.29631137, -40.024233431))
            ThreePointArc((27.29631137, -40.024233431), (27.29631137, -42.145553775), (25.174991027, -42.145553775))
            Line((25.174991027, -42.145553775), (23.407224074, -40.377786822))
            ThreePointArc((23.407224074, -40.377786822), (23.407224074, -38.256466479), (25.528544417, -38.256466479))
        make_face()
        with BuildLine():
            Line((38.610019869, -28.710524932), (36.842252916, -26.94275798))
            ThreePointArc((36.842252916, -26.94275798), (36.842252916, -24.821437636), (38.96357326, -24.821437636))
            Line((38.96357326, -24.821437636), (40.731340213, -26.589204589))
            ThreePointArc((40.731340213, -26.589204589), (40.731340213, -28.710524932), (38.610019869, -28.710524932))
        make_face()
        with BuildLine():
            Line((-38.610019869, -28.710524932), (-36.842252916, -26.94275798))
            ThreePointArc((-36.842252916, -26.94275798), (-36.842252916, -24.821437636), (-38.96357326, -24.821437636))
            Line((-38.96357326, -24.821437636), (-40.731340213, -26.589204589))
            ThreePointArc((-40.731340213, -26.589204589), (-40.731340213, -28.710524932), (-38.610019869, -28.710524932))
        make_face()
        with BuildLine():
            Line((-25.528544417, -38.256466479), (-27.29631137, -40.024233431))
            ThreePointArc((-27.29631137, -40.024233431), (-27.29631137, -42.145553775), (-25.174991027, -42.145553775))
            Line((-25.174991027, -42.145553775), (-23.407224074, -40.377786822))
            ThreePointArc((-23.407224074, -40.377786822), (-23.407224074, -38.256466479), (-25.528544417, -38.256466479))
        make_face()
        with BuildLine():
            Line((-25.528544417, 38.256466479), (-27.29631137, 40.024233431))
            ThreePointArc((-27.29631137, 40.024233431), (-27.29631137, 42.145553775), (-25.174991027, 42.145553775))
            Line((-25.174991027, 42.145553775), (-23.407224074, 40.377786822))
            ThreePointArc((-23.407224074, 40.377786822), (-23.407224074, 38.256466479), (-25.528544417, 38.256466479))
        make_face()
        with BuildLine():
            Line((-38.610019869, 28.710524932), (-36.842252916, 26.94275798))
            ThreePointArc((-36.842252916, 26.94275798), (-36.842252916, 24.821437636), (-38.96357326, 24.821437636))
            Line((-38.96357326, 24.821437636), (-40.731340213, 26.589204589))
            ThreePointArc((-40.731340213, 26.589204589), (-40.731340213, 28.710524932), (-38.610019869, 28.710524932))
        make_face()
        with BuildLine():
            Line((38.610019869, 28.710524932), (36.842252916, 26.94275798))
            ThreePointArc((36.842252916, 26.94275798), (36.842252916, 24.821437636), (38.96357326, 24.821437636))
            Line((38.96357326, 24.821437636), (40.731340213, 26.589204589))
            ThreePointArc((40.731340213, 26.589204589), (40.731340213, 28.710524932), (38.610019869, 28.710524932))
        make_face()
        with BuildLine():
            Line((25.528544417, 38.256466479), (27.29631137, 40.024233431))
            ThreePointArc((27.29631137, 40.024233431), (27.29631137, 42.145553775), (25.174991027, 42.145553775))
            Line((25.174991027, 42.145553775), (23.407224074, 40.377786822))
            ThreePointArc((23.407224074, 40.377786822), (23.407224074, 38.256466479), (25.528544417, 38.256466479))
        make_face()
    extrude(amount=-ECSS_BEFESTIGUNG_DEPTH, mode=Mode.SUBTRACT)

    # Skizze9 → Schnitt-Linear austragen6 (cut, through all)
    with BuildSketch(Plane.XY.offset(3)):
        with Locations((46.211417767, 62.474873734)):
            Circle(SKIZZE9_R)
    schnitt_linear_austragen6 = extrude(amount=-SCHNITT_LINEAR_AUSTRAGEN6_DEPTH, mode=Mode.SUBTRACT)

    # Kreismuster1: Schnitt-Linear austragen6 ×4 about axis
    kreismuster1_axis = Axis((0, 0, 0), (0, 0, 1))
    for i in range(1, KREISMUSTER1_COUNT):
        add(schnitt_linear_austragen6.rotate(kreismuster1_axis, i * 360 / KREISMUSTER1_COUNT), mode=Mode.SUBTRACT)

    # Skizze10 → Befestigung SpannTester (cut, through all)
    with BuildSketch(Plane.XY.offset(3)):
        with Locations((-16, -43.748737342)):
            Rectangle(SKIZZE10_W, SKIZZE10_H)
        with Locations((16, -43.748737342)):
            Rectangle(SKIZZE10_W, SKIZZE10_H)
    extrude(amount=-BEFESTIGUNG_SPANNTESTER_DEPTH, mode=Mode.SUBTRACT)

    # Verrundung2
    verrundung2_edges = [part.edges().sort_by_distance(p)[0] for p in [
        (-18, -49.748737342, 1.5),
        (-18, -37.748737342, 1.5),
        (-14, -37.748737342, 1.5),
        (-14, -49.748737342, 1.5),
        (18, -37.748737342, 1.5),
        (18, -49.748737342, 1.5),
        (14, -49.748737342, 1.5),
        (14, -37.748737342, 1.5),
    ]]
    fillet(verrundung2_edges, radius=VERRUNDUNG2_R)

    # M4 Gewindebohrung1 (through all)
    with Locations(Plane.XY.offset(3)):
        with Locations((-45.748737342, 29.5), (-62.474873734, 46.211417767), (-46.211417767, -62.474873734), (-45.748737342, -29.5), (45.748737342, 29.5), (45.748737342, -29.5), (62.474873734, -46.211417767), (46.211417767, 62.474873734)):
            Hole(M4_GEWINDEBOHRUNG1_D / 2)

    # Skizze16 → Schnitt-Linear austragen8 (cut, through all)
    with BuildSketch(Plane.XY.offset(3)):
        with Locations((-51.868272016, -68.131727984)):
            Circle(SKIZZE16_R)
        with Locations((-68.131727984, 51.868272016)):
            Circle(SKIZZE16_R)
        with Locations((51.868272016, 68.131727984)):
            Circle(SKIZZE16_R)
        with Locations((68.131727984, -51.868272016)):
            Circle(SKIZZE16_R)
    extrude(amount=-SCHNITT_LINEAR_AUSTRAGEN8_DEPTH, mode=Mode.SUBTRACT)

    # M4 Gewindebohrung2 (through all)
    with Locations(Plane.XY.offset(3)):
        with Locations((-51.868272016, -68.131727984), (-68.131727984, 51.868272016), (51.868272016, 68.131727984), (68.131727984, -51.868272016)):
            Hole(M4_GEWINDEBOHRUNG2_D / 2)


solid = part.part
